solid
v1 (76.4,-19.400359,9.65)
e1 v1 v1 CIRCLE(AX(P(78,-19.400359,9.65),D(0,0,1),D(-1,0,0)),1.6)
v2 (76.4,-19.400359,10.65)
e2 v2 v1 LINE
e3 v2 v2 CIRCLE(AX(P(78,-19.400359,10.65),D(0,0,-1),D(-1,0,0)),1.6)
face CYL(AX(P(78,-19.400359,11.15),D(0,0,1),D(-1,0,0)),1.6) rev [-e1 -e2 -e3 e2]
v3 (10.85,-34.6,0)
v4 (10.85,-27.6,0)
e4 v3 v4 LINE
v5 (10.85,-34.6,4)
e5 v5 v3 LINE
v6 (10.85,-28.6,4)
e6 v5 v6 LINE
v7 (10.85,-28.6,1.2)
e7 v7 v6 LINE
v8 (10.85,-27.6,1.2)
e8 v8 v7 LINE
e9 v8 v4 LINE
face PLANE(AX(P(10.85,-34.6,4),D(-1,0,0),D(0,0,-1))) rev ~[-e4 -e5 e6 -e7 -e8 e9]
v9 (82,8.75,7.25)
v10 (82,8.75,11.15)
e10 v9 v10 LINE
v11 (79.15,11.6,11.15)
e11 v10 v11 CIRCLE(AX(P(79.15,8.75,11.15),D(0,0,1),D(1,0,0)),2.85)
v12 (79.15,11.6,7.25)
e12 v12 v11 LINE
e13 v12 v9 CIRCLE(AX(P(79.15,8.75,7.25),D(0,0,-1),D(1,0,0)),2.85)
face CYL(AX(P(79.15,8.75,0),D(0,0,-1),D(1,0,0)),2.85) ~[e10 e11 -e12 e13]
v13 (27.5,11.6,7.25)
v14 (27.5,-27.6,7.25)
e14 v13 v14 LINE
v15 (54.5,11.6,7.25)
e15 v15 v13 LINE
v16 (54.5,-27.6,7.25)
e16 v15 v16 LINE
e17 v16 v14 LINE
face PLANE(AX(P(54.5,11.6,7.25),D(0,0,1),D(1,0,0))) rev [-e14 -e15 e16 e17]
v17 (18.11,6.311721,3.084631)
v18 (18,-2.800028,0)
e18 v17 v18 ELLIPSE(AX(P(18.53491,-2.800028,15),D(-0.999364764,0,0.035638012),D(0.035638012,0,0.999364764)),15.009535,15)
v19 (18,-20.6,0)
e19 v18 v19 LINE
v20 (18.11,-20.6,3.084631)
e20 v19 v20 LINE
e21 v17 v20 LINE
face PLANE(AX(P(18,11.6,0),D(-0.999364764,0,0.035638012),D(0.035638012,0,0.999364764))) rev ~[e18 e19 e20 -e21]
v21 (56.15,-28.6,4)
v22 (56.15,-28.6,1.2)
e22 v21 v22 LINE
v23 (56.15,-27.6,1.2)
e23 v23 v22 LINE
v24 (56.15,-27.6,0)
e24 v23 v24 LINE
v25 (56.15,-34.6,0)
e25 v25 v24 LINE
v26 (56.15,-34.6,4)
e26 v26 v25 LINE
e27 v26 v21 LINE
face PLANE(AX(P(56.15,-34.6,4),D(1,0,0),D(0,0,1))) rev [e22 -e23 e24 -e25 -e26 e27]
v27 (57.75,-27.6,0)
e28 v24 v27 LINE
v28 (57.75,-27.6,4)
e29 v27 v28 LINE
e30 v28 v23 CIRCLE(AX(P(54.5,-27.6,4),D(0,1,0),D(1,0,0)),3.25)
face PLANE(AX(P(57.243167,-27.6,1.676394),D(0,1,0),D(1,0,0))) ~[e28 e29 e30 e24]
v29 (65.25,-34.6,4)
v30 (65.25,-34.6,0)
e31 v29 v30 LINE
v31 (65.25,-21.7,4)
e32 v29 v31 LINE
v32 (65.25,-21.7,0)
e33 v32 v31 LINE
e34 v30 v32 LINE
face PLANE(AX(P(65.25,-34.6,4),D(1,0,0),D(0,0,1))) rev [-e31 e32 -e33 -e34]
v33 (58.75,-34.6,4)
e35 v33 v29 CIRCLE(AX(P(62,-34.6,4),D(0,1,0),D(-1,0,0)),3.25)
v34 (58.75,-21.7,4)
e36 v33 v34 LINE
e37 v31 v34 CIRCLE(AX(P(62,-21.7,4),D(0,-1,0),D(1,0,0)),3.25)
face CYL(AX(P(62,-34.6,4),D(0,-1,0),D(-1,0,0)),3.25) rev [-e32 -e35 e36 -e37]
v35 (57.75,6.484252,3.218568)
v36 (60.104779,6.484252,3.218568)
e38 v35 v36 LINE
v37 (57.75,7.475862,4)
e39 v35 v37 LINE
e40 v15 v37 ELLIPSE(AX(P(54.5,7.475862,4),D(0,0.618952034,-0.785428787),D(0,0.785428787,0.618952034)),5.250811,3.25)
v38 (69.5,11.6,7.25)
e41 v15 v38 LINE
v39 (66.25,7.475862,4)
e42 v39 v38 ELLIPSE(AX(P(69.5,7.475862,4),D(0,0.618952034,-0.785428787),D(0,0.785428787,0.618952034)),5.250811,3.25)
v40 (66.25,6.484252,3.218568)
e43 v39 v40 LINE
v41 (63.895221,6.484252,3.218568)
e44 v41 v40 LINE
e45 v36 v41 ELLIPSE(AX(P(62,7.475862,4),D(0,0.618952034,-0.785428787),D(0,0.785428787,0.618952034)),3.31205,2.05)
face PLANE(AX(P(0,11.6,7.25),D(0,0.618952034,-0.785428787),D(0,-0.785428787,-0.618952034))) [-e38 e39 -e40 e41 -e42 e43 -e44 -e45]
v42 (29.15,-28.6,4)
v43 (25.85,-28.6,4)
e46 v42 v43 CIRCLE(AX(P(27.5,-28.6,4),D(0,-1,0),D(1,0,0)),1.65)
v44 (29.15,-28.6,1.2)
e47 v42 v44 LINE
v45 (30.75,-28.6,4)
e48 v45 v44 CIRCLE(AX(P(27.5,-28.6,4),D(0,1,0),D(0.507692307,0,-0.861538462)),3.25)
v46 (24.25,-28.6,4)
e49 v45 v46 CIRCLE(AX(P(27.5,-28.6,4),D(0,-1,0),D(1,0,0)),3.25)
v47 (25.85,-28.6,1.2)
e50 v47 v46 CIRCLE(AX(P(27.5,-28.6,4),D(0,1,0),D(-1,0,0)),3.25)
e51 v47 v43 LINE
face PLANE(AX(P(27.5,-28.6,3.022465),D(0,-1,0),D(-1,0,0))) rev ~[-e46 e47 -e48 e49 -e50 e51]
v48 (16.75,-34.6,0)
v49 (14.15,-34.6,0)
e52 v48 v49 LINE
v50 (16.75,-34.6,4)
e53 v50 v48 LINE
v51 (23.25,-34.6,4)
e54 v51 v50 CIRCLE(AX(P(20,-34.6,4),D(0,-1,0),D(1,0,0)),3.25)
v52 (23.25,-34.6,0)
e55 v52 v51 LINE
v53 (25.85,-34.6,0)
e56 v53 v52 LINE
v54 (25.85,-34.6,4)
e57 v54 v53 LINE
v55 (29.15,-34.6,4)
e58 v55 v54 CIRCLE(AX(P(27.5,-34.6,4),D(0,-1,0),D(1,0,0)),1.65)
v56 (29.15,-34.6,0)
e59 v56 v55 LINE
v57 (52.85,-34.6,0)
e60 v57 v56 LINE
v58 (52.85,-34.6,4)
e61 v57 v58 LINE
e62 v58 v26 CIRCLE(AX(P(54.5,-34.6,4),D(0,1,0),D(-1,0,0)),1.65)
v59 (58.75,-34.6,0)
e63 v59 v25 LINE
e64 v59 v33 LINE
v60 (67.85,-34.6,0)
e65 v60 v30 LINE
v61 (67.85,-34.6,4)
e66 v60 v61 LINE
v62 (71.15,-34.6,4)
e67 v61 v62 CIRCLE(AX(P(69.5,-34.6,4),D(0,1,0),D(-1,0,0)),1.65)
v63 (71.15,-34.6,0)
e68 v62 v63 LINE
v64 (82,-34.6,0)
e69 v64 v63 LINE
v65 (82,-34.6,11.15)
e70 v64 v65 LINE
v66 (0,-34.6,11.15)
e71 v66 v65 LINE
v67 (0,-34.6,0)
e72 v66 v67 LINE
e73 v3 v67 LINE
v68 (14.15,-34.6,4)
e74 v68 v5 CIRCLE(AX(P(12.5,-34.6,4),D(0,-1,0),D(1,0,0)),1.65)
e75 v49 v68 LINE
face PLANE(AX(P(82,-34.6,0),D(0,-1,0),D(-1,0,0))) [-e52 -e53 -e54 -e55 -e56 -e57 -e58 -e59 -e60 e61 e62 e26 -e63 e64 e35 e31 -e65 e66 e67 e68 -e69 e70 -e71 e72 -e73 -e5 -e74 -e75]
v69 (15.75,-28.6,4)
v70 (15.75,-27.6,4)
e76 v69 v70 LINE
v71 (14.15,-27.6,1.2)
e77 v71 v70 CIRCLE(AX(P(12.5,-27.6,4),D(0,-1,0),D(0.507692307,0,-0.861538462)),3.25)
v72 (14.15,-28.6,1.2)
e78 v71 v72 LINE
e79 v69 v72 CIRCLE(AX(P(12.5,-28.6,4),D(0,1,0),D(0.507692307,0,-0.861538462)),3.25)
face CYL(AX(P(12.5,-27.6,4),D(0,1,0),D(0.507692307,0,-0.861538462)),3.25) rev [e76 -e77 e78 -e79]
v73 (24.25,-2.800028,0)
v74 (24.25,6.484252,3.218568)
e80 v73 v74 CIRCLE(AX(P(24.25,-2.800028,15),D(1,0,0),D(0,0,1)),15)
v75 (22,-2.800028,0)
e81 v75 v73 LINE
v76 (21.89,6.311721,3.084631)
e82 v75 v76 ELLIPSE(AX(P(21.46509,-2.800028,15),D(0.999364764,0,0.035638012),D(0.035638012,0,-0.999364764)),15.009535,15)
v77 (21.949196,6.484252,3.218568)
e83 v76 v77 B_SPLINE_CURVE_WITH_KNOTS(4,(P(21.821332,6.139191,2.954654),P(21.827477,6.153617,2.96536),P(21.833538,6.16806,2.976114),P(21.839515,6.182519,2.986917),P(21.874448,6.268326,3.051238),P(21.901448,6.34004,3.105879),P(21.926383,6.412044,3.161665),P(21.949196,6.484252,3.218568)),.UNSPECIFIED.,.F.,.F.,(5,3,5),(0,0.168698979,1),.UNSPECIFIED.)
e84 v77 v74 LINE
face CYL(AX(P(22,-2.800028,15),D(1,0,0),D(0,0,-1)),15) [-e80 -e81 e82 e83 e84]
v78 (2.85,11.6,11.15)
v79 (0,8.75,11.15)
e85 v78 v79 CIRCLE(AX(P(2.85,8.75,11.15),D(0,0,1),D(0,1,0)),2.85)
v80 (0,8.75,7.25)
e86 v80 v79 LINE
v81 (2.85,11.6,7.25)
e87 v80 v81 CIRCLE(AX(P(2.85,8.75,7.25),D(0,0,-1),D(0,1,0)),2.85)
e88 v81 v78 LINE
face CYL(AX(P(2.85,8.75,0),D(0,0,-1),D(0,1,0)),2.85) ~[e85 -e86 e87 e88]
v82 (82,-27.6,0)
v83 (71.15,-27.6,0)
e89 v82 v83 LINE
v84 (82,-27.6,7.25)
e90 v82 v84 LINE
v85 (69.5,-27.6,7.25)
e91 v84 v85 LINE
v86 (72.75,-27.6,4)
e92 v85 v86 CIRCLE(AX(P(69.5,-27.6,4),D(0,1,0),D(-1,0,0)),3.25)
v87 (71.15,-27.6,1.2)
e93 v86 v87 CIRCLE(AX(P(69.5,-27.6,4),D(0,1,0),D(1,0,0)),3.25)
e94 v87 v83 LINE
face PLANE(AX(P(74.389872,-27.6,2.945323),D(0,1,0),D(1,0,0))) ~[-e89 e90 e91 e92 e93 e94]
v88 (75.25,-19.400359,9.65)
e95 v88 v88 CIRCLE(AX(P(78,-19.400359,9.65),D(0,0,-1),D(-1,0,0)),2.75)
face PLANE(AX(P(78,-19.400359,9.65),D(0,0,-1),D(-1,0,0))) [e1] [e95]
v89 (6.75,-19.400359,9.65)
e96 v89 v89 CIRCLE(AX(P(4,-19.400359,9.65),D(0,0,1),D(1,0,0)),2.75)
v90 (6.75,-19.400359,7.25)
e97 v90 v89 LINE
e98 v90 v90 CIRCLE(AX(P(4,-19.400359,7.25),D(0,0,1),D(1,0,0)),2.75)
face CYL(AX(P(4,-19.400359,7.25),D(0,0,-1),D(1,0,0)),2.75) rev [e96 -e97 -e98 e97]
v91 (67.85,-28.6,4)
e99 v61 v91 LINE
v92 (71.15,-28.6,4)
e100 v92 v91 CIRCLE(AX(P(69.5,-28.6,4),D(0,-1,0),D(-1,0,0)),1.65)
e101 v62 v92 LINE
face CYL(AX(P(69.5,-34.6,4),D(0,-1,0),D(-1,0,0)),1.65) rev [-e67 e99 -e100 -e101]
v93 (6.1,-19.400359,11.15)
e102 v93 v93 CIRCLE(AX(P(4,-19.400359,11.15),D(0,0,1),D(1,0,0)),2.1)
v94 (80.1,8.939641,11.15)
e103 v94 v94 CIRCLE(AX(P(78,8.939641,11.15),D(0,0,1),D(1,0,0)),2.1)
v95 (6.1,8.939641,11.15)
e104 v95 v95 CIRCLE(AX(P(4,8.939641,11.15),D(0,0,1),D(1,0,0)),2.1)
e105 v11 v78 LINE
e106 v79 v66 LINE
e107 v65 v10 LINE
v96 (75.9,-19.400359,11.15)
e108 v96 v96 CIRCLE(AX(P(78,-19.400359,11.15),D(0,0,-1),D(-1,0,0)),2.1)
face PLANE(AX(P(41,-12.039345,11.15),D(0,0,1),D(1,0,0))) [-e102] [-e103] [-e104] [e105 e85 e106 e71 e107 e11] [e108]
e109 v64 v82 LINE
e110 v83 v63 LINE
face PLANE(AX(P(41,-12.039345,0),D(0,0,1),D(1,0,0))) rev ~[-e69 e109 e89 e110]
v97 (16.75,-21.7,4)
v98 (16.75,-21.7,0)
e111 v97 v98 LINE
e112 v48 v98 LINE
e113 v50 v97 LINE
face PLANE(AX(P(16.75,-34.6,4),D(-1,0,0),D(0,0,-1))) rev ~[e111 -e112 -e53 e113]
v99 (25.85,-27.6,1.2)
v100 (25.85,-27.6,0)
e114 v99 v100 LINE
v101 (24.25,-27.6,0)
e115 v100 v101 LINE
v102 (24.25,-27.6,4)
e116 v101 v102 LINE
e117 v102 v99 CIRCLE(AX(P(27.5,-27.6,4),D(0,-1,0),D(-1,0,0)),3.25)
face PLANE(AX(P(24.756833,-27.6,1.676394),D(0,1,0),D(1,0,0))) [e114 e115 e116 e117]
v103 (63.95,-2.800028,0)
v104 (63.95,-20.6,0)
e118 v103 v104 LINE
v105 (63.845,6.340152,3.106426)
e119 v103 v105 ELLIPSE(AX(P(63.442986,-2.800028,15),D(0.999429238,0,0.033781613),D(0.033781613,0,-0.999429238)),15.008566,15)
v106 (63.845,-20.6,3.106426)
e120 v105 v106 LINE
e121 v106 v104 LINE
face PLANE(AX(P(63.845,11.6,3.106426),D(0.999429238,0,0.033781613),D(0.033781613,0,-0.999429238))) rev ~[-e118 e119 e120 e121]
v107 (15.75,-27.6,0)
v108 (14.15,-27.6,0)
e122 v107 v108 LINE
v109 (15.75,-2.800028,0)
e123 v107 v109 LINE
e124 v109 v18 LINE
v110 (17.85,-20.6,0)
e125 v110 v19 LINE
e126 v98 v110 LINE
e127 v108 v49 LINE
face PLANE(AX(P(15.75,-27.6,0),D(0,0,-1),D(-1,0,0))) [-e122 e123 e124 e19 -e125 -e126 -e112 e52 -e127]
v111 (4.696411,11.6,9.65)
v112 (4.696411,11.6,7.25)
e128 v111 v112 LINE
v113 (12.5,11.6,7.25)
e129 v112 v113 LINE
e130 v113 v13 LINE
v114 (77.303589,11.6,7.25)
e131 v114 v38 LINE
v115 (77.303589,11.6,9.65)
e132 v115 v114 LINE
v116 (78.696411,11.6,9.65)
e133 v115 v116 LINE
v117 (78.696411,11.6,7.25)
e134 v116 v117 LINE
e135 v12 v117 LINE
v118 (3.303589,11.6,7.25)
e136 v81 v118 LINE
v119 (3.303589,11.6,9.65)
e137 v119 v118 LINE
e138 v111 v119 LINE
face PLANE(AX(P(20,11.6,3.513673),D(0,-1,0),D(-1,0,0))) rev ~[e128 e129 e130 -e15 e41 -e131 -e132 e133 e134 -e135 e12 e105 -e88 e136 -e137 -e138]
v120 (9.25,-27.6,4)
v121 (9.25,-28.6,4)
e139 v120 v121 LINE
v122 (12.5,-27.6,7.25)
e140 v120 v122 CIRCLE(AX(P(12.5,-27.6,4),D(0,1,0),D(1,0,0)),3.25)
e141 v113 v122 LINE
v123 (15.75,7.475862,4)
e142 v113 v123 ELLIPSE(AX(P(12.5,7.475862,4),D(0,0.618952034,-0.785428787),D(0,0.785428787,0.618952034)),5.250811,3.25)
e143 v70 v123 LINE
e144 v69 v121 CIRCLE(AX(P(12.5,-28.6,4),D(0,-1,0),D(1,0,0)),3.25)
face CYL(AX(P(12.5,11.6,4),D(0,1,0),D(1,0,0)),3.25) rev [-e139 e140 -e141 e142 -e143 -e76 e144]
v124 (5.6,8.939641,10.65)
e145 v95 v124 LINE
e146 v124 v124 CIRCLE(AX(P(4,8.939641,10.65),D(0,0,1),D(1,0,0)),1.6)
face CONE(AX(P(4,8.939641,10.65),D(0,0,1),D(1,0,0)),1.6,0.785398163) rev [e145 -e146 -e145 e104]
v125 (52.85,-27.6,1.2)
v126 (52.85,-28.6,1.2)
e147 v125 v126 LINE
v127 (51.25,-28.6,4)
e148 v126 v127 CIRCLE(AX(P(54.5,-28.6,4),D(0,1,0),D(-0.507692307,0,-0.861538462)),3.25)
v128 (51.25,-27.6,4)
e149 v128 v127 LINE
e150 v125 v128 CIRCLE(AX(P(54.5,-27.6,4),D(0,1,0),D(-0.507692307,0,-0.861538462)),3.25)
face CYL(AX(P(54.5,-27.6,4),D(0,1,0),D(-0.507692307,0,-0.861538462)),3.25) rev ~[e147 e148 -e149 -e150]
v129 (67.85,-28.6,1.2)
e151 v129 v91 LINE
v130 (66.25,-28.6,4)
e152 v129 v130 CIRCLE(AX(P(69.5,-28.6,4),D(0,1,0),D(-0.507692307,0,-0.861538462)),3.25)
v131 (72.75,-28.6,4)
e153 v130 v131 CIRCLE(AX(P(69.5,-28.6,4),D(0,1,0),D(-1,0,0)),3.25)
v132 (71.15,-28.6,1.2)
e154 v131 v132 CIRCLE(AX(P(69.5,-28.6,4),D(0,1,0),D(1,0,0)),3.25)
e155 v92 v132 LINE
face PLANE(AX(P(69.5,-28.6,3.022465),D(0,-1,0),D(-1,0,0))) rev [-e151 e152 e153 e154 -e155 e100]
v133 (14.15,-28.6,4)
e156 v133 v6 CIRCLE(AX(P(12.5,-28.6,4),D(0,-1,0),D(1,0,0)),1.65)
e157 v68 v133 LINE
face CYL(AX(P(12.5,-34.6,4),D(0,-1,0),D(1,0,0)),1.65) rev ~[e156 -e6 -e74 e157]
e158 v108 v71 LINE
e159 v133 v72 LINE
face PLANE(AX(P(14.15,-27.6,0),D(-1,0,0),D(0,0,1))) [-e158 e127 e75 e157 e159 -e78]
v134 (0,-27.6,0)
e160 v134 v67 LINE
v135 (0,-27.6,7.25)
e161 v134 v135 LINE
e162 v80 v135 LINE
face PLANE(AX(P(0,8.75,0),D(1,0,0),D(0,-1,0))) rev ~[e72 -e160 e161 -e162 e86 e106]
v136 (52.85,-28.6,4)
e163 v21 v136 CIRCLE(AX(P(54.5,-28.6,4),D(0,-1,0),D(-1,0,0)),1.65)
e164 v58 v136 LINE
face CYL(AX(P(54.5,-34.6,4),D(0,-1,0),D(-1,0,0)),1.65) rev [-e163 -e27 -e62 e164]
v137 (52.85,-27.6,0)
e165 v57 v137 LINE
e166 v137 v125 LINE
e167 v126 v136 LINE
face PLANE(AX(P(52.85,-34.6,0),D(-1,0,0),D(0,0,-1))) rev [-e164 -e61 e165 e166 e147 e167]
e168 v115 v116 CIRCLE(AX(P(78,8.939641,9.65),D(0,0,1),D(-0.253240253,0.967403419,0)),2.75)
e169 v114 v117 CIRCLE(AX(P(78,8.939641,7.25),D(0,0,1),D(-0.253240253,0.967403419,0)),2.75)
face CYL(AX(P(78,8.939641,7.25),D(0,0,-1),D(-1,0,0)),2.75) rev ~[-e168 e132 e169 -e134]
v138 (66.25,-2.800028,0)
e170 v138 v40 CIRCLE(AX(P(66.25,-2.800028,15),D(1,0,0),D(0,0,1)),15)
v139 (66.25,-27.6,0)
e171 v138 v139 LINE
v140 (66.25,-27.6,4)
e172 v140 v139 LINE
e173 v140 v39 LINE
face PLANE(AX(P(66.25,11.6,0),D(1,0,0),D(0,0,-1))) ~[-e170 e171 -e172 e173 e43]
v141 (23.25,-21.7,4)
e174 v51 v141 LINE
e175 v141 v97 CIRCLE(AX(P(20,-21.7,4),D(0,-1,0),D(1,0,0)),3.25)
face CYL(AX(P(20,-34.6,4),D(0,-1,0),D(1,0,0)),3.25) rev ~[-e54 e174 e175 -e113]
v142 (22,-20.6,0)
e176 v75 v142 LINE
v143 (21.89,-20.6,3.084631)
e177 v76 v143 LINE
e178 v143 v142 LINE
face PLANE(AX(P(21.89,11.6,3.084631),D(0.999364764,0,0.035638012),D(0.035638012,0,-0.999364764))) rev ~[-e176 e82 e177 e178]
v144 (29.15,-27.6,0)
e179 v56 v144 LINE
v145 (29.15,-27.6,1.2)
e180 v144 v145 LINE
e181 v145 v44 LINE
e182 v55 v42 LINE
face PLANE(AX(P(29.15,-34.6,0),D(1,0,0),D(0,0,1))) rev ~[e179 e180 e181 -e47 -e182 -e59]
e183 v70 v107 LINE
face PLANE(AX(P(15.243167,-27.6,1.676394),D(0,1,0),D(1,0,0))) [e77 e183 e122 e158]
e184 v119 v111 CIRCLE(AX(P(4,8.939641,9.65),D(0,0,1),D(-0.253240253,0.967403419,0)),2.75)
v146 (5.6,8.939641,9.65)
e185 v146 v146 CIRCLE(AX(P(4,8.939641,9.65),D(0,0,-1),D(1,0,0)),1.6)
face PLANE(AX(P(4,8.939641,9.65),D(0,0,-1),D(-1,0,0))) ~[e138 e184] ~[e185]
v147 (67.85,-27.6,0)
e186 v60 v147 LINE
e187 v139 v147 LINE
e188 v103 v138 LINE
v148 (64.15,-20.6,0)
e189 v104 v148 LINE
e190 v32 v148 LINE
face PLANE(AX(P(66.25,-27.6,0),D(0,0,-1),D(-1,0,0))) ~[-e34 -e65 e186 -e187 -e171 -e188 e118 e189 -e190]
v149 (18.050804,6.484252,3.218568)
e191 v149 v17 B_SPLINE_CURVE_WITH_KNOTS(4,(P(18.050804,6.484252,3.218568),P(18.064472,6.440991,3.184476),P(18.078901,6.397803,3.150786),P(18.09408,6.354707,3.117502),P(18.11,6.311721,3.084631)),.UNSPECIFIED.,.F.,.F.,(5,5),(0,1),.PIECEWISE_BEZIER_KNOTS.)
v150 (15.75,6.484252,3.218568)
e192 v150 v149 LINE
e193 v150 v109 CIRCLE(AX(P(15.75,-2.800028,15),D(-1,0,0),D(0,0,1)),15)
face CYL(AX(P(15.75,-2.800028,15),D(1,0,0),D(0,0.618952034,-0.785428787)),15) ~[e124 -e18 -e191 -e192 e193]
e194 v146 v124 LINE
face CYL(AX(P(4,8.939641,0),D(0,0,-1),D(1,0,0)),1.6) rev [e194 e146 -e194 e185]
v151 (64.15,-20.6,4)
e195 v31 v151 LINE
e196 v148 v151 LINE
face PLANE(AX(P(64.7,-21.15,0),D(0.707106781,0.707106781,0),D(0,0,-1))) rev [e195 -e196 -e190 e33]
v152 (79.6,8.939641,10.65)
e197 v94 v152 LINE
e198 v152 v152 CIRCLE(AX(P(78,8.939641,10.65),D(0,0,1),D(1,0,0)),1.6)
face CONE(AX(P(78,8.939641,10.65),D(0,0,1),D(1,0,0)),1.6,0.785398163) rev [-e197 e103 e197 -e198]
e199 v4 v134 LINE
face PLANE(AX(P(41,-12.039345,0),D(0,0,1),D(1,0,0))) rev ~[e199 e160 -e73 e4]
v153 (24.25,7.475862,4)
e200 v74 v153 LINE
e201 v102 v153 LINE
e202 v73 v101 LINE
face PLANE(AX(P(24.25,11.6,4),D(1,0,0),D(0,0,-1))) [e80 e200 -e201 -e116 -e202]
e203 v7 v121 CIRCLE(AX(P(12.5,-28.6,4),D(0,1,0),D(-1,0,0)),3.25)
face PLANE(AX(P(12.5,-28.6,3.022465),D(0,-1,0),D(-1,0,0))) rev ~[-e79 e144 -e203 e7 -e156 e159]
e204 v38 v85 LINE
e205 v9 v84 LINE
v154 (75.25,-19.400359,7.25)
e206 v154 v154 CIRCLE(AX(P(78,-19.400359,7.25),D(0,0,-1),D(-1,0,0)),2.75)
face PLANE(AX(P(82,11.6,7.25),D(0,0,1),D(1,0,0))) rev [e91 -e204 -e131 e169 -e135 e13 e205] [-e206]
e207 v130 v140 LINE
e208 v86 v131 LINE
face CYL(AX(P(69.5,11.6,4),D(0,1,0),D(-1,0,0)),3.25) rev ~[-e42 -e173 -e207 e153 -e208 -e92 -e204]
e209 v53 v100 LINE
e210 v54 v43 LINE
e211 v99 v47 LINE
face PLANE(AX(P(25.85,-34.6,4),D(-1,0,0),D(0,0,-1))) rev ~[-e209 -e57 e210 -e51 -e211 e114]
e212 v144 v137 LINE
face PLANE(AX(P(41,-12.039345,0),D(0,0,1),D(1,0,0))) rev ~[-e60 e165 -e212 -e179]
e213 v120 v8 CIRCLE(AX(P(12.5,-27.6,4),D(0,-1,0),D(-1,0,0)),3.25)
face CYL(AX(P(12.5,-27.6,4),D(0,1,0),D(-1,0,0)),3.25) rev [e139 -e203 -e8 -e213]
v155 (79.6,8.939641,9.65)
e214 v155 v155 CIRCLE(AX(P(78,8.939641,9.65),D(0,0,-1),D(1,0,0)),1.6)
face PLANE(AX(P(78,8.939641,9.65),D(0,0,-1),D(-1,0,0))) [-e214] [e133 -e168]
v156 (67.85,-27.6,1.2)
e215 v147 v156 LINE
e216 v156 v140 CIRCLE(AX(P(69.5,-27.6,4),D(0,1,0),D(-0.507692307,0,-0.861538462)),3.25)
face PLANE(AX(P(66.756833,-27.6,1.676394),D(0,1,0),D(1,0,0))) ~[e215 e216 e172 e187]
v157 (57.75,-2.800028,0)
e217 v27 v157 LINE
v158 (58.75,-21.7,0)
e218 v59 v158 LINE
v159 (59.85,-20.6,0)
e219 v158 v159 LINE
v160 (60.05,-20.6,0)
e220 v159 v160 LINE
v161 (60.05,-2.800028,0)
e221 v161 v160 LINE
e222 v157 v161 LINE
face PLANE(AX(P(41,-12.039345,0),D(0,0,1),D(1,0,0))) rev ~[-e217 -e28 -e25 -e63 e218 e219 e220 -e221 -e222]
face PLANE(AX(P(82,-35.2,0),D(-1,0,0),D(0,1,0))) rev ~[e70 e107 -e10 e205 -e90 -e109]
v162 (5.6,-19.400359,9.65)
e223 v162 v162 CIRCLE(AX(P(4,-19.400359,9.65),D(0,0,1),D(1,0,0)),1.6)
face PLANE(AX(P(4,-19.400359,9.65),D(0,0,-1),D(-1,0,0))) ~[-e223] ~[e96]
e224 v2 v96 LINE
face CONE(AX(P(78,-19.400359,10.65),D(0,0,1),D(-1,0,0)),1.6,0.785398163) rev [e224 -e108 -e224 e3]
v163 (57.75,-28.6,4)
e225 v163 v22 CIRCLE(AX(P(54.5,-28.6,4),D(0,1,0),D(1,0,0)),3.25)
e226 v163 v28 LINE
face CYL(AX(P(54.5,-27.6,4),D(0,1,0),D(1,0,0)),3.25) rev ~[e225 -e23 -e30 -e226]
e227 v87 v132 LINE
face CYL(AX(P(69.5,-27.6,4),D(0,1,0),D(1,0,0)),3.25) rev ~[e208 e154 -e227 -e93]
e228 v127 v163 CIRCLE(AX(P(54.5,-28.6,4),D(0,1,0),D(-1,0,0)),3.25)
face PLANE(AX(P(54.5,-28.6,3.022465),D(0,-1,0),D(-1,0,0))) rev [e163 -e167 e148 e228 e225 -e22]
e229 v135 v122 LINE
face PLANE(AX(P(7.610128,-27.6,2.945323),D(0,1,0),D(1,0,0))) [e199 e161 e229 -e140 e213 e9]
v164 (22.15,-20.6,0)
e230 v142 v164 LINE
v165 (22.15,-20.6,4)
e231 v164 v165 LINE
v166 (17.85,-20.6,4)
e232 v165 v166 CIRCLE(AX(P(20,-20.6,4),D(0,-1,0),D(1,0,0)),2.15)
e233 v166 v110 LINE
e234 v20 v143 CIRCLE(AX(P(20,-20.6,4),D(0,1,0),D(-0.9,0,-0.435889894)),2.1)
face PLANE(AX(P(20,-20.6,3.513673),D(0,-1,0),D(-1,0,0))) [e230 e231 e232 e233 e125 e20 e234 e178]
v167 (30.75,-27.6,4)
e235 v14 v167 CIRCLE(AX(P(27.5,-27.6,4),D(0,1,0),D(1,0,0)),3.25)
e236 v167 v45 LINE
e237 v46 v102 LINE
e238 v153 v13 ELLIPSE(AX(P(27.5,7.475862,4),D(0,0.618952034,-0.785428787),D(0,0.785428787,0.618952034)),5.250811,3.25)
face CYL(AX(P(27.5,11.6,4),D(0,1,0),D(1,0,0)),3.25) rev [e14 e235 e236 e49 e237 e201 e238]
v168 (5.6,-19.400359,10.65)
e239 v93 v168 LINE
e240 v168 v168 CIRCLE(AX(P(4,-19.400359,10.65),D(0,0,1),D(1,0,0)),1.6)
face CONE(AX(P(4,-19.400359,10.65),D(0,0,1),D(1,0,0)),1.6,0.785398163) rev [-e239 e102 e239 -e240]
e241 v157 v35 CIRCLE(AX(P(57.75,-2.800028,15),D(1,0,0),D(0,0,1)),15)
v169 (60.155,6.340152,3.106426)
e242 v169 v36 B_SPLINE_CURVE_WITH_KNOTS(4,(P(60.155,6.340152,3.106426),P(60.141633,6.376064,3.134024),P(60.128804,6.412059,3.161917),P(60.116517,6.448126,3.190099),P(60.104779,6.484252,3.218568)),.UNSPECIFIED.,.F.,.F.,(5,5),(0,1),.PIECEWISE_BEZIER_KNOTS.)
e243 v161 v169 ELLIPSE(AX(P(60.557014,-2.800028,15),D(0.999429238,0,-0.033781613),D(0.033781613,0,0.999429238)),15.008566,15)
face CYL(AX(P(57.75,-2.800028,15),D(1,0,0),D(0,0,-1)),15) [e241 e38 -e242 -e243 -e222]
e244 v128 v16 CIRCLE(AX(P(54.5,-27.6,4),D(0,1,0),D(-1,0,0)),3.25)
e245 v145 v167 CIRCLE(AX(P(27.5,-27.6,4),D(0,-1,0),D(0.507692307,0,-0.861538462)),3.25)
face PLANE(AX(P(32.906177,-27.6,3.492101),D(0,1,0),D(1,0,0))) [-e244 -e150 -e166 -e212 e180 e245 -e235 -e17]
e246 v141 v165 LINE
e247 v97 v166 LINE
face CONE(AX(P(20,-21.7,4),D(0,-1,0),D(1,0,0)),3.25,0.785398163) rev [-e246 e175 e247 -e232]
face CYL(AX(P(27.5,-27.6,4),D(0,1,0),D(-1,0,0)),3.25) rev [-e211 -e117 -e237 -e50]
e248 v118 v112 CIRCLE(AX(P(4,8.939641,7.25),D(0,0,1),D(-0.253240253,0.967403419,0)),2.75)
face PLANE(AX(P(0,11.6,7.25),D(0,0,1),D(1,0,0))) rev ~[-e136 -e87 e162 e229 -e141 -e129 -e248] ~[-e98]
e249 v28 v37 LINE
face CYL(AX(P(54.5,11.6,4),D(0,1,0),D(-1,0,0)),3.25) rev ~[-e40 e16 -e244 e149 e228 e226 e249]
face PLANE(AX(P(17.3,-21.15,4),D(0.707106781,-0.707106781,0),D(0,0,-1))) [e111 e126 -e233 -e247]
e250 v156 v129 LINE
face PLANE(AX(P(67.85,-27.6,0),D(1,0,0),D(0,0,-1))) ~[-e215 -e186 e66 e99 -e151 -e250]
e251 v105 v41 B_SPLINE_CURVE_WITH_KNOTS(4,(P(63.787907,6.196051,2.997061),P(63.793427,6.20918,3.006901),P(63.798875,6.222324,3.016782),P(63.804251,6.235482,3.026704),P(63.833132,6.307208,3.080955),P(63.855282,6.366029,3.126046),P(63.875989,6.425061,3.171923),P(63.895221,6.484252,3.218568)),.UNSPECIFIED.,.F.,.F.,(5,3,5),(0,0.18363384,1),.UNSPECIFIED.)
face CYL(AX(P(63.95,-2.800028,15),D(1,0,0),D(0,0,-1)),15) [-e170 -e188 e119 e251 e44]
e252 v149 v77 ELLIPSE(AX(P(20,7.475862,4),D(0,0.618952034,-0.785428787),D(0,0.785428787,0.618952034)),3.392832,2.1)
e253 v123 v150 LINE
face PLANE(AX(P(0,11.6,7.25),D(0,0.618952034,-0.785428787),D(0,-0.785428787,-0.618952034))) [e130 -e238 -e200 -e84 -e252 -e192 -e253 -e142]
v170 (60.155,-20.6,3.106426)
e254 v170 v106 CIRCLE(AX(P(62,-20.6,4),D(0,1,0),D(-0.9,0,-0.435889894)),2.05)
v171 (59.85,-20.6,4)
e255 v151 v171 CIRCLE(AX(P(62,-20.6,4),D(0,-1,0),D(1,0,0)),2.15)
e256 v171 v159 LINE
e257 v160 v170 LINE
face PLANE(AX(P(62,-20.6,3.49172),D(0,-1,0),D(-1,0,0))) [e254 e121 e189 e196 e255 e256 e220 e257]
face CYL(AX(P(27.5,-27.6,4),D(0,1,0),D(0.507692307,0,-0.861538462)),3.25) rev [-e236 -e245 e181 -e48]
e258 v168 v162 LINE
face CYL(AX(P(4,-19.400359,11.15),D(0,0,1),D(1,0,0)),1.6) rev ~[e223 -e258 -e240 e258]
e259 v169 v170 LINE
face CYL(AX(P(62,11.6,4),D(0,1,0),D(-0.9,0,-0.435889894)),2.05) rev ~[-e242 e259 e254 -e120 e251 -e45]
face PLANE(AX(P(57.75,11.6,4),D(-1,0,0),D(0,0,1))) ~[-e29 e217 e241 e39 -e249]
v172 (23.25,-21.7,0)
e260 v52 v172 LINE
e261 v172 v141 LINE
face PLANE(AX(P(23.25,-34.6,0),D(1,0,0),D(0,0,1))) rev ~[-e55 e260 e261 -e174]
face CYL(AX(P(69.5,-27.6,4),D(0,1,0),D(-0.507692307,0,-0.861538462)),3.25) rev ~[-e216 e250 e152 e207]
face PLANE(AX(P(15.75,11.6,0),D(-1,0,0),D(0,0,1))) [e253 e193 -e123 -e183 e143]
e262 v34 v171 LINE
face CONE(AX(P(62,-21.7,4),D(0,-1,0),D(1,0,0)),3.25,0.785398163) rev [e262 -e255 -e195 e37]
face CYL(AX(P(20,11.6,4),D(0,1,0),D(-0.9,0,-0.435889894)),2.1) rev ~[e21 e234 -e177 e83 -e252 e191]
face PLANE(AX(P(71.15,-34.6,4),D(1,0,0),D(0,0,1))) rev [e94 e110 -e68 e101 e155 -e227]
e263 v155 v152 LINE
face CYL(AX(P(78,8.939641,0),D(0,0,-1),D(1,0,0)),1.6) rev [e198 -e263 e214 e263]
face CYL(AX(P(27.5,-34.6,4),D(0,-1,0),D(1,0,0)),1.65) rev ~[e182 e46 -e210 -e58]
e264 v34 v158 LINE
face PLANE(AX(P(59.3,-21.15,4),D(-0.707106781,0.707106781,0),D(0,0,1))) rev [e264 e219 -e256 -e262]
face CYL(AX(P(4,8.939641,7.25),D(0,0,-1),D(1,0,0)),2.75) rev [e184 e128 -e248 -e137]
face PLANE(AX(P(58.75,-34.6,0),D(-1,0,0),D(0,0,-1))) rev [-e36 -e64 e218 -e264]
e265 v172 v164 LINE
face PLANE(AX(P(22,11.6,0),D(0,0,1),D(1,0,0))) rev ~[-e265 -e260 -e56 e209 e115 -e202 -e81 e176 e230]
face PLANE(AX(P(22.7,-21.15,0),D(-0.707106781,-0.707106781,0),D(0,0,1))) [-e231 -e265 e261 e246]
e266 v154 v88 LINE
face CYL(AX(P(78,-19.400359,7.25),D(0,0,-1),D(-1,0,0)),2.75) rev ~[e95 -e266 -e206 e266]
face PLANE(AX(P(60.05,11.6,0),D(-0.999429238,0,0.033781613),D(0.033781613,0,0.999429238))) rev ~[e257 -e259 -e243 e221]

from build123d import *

# Parameters (mm, degrees)
SKETCH1_R                = 1.6
BOSS_EXTRUDE1_DEPTH      = 11.15
SKETCH2_W                = 82
SKETCH2_H                = 0.6
CUT_EXTRUDE1_DEPTH       = 8
CUT_EXTRUDE2_DEPTH       = 46.2
CUT_EXTRUDE3_DEPTH       = 40.2
CUT_EXTRUDE5_DEPTH       = 39.2
BOSS_EXTRUDE2_DEPTH      = 32.2
CHAMFER3_SIZE            = 1.1
CHAMFER4_SIZE            = 1.1
CUT_EXTRUDE12_DEPTH      = 1
CUT_EXTRUDE12_DEPTH_BACK = 83
FILLET3_R                = 15
SKETCH14_R               = 1.6
CUT_EXTRUDE14_DEPTH      = 12.1500001
BOSS_EXTRUDE3_DEPTH      = 3.5
SKETCH8_W                = 82
SKETCH8_H                = 0.6
CUT_EXTRUDE16_DEPTH      = 4.15
SKETCH20_R               = 2.75
CUT_EXTRUDE17_DEPTH      = 2.4
CHAMFER5_SIZE            = 0.5


with BuildPart() as part:
    # Sketch1 → Boss-Extrude1 (new body)
    with BuildSketch(Plane.XY):
        with BuildLine():
            Line((0, -35.2), (82, -35.2))
            Line((82, -35.2), (82, 8.75))
            ThreePointArc((82, 8.75), (81.165254326, 10.765254326), (79.15, 11.6))
            Line((79.15, 11.6), (2.85, 11.6))
            ThreePointArc((2.85, 11.6), (0.834745674, 10.765254326), (0, 8.75))
            Line((0, 8.75), (0, -35.2))
        make_face()
        with Locations((4, 8.939640599)):
            Circle(SKETCH1_R, mode=Mode.SUBTRACT)
        with Locations((78, 8.939640599)):
            Circle(SKETCH1_R, mode=Mode.SUBTRACT)
    extrude(amount=BOSS_EXTRUDE1_DEPTH)

    # Sketch2 → Cut-Extrude1 (cut)
    with BuildSketch(Plane(origin=(0, 0, 0), x_dir=(-1, 0, 0), z_dir=(0, 0, -1))):
        with Locations((-41, -34.9)):
            Rectangle(SKETCH2_W, SKETCH2_H)
    cut_extrude1 = extrude(amount=-CUT_EXTRUDE1_DEPTH, mode=Mode.SUBTRACT)

    # Sketch3 → Cut-Extrude2 (cut)
    with BuildSketch(Plane.XZ.offset(34.6)):
        with BuildLine():
            Line((25.85, 4), (25.85, 0))
            Line((25.85, 0), (29.15, 0))
            Line((29.15, 0), (29.15, 4))
            ThreePointArc((29.15, 4), (27.5, 5.65), (25.85, 4))
        make_face()
        with BuildLine():
            ThreePointArc((14.15, 4), (12.5, 5.65), (10.85, 4))
            Line((10.85, 4), (10.85, 0))
            Line((10.85, 0), (14.15, 0))
            Line((14.15, 0), (14.15, 4))
        make_face()
        with BuildLine():
            ThreePointArc((23.25, 4), (20, 7.25), (16.75, 4))
            Line((16.75, 4), (16.75, 0))
            Line((16.75, 0), (23.25, 0))
            Line((23.25, 0), (23.25, 4))
        make_face()
    cut_extrude2 = extrude(amount=-CUT_EXTRUDE2_DEPTH, mode=Mode.SUBTRACT)

    # Sketch4 → Cut-Extrude3 (cut)
    with BuildSketch(Plane(origin=(0, 11.6, 0), x_dir=(1, 0, 0), z_dir=(0, 1, 0))):
        with BuildLine():
            Line((9.25, -4), (9.25, 0))
            Line((9.25, 0), (15.75, 0))
            Line((15.75, 0), (15.75, -4))
            ThreePointArc((15.75, -4), (12.5, -7.25), (9.25, -4))
        make_face()
        with BuildLine():
            Line((24.25, -4), (24.25, 0))
            Line((24.25, 0), (30.75, 0))
            Line((30.75, 0), (30.75, -4))
            ThreePointArc((30.75, -4), (27.5, -7.25), (24.25, -4))
        make_face()
    cut_extrude3 = extrude(amount=-CUT_EXTRUDE3_DEPTH, mode=Mode.SUBTRACT)

    # Sketch6 → Cut-Extrude5 (cut)
    with BuildSketch(Plane(origin=(0, 11.6, 0), x_dir=(1, 0, 0), z_dir=(0, 1, 0))):
        with BuildLine():
            Line((15.75, -4), (15.75, 0))
            Line((15.75, 0), (15.75, 1.061213364))
            Line((15.75, 1.061213364), (0, 1.061213364))
            Line((0, 1.061213364), (0, -7.25))
            Line((0, -7.25), (12.5, -7.25))
            ThreePointArc((12.5, -7.25), (14.798097039, -6.298097039), (15.75, -4))
        make_face()
        with BuildLine():
            Line((24.25, 0), (24.25, -4))
            ThreePointArc((24.25, -4), (25.201902961, -6.298097039), (27.5, -7.25))
            Line((27.5, -7.25), (41, -7.25))
            Line((41, -7.25), (41, 0))
            Line((41, 0), (24.25, 0))
        make_face()
    cut_extrude5 = extrude(amount=-CUT_EXTRUDE5_DEPTH, mode=Mode.SUBTRACT)

    # Mirror1: Cut-Extrude1, Cut-Extrude2, Cut-Extrude3, Cut-Extrude5 across plane
    add(cut_extrude1.mirror(Plane.ZY.offset(-41)), mode=Mode.SUBTRACT)
    add(cut_extrude2.mirror(Plane.ZY.offset(-41)), mode=Mode.SUBTRACT)
    add(cut_extrude3.mirror(Plane.ZY.offset(-41)), mode=Mode.SUBTRACT)
    add(cut_extrude5.mirror(Plane.ZY.offset(-41)), mode=Mode.SUBTRACT)

    # Sketch12 → Boss-Extrude2 (add)
    with BuildSketch(Plane(origin=(0, 11.6, 0), x_dir=(1, 0, 0), z_dir=(0, 1, 0))):
        with BuildLine():
            Line((16.75, -4), (16.75, 0))
            Line((16.75, 0), (18, 0))
            Line((18, 0), (18.11, -3.084631222))
            ThreePointArc((18.11, -3.084631222), (20, -6.1), (21.89, -3.084631222))
            Line((21.89, -3.084631222), (22, 0))
            Line((22, 0), (23.25, 0))
            Line((23.25, 0), (23.25, -4))
            ThreePointArc((23.25, -4), (20, -7.25), (16.75, -4))
        make_face()
        with BuildLine():
            Line((58.75, -4), (58.75, 0))
            Line((58.75, 0), (60.05, 0))
            Line((60.05, 0), (60.155, -3.106425717))
            ThreePointArc((60.155, -3.106425717), (62, -6.05), (63.845, -3.106425717))
            Line((63.845, -3.106425717), (63.95, 0))
            Line((63.95, 0), (65.25, 0))
            Line((65.25, 0), (65.25, -4))
            ThreePointArc((65.25, -4), (62, -7.25), (58.75, -4))
        make_face()
    extrude(amount=-BOSS_EXTRUDE2_DEPTH)

    # Chamfer3
    chamfer3_edges = [part.edges().sort_by_distance(p)[0] for p in [
        (65.25, -20.6, 2),
        (58.75, -20.6, 2),
        (62, -20.6, 7.25),
    ]]
    chamfer(chamfer3_edges, length=CHAMFER3_SIZE)

    # Chamfer4
    chamfer4_edges = [part.edges().sort_by_distance(p)[0] for p in [
        (23.25, -20.6, 2),
        (16.75, -20.6, 2),
        (20, -20.6, 7.25),
    ]]
    chamfer(chamfer4_edges, length=CHAMFER4_SIZE)

    # Sketch9 → Cut-Extrude12 (cut, two sides)
    with BuildSketch(Plane.ZY) as cut_extrude12_sk:
        Polygon((-106.219800457, 11.6), (0, 11.6), (7.25, 11.6), (0, 2.4), (-65.744961499, -81.028089075), (-260.411588221, -166.089763625), (-300.886427179, -73.46167455), align=None)
    extrude(amount=CUT_EXTRUDE12_DEPTH, mode=Mode.SUBTRACT)
    extrude(cut_extrude12_sk.sketch, amount=-CUT_EXTRUDE12_DEPTH_BACK, mode=Mode.SUBTRACT)

    # Fillet3
    fillet3_edges = [part.edges().sort_by_distance(p)[0] for p in [
        (16.875, 2.4, 0),
        (23.125, 2.4, 0),
        (58.9, 2.4, 0),
        (65.1, 2.4, 0),
    ]]
    fillet(fillet3_edges, radius=FILLET3_R)

    # Sketch14 → Cut-Extrude14 (cut, through all)
    with BuildSketch(Plane.XY.offset(11.15)):
        with Locations((4, -19.400359401)):
            Circle(SKETCH14_R)
    cut_extrude14 = extrude(amount=-CUT_EXTRUDE14_DEPTH, mode=Mode.SUBTRACT)

    # Mirror3: Cut-Extrude14 across plane
    add(cut_extrude14.mirror(Plane.ZY.offset(-41)), mode=Mode.SUBTRACT)

    # Sketch18 → Boss-Extrude3 (add)
    with BuildSketch(Plane(origin=(0, -27.6, 0), x_dir=(1, 0, 0), z_dir=(0, 1, 0))):
        with BuildLine():
            Line((14.15, 0), (14.15, -1.2))
            ThreePointArc((14.15, -1.2), (15.321790212, -2.38754845), (15.75, -4))
            Line((15.75, -4), (15.75, 0))
            Line((15.75, 0), (14.15, 0))
        make_face()
        with BuildLine():
            Line((10.85, -1.2), (10.85, 0))
            Line((10.85, 0), (9.25, 0))
            Line((9.25, 0), (9.25, -4))
            ThreePointArc((9.25, -4), (9.678209788, -2.38754845), (10.85, -1.2))
        make_face()
        with BuildLine():
            Line((29.15, 0), (29.15, -1.2))
            ThreePointArc((29.15, -1.2), (30.321790212, -2.38754845), (30.75, -4))
            Line((30.75, -4), (30.75, 0))
            Line((30.75, 0), (29.15, 0))
        make_face()
        with BuildLine():
            Line((25.85, -1.2), (25.85, 0))
            Line((25.85, 0), (24.25, 0))
            Line((24.25, 0), (24.25, -4))
            ThreePointArc((24.25, -4), (24.678209788, -2.38754845), (25.85, -1.2))
        make_face()
    boss_extrude3 = extrude(amount=-BOSS_EXTRUDE3_DEPTH)

    # Mirror5: Boss-Extrude3 across plane
    add(boss_extrude3.mirror(Plane.ZY.offset(-41)))

    # Sketch8 → Cut-Extrude16 (cut, through all)
    with BuildSketch(Plane(origin=(0, 0, 8), x_dir=(-1, 0, 0), z_dir=(0, 0, -1))):
        with Locations((-41, -34.9)):
            Rectangle(SKETCH8_W, SKETCH8_H)
    extrude(amount=-CUT_EXTRUDE16_DEPTH, mode=Mode.SUBTRACT)

    # Sketch20 → Cut-Extrude17 (cut)
    with BuildSketch(Plane(origin=(0, 0, 7.25), x_dir=(-1, 0, 0), z_dir=(0, 0, -1))):
        with Locations((-78, 8.939640599)):
            Circle(SKETCH20_R)
        with Locations((-78, -19.400359401)):
            Circle(SKETCH20_R)
    cut_extrude17 = extrude(amount=-CUT_EXTRUDE17_DEPTH, mode=Mode.SUBTRACT)

    # Mirror7: Cut-Extrude17 across plane
    add(cut_extrude17.mirror(Plane.ZY.offset(-41)), mode=Mode.SUBTRACT)

    # Chamfer5
    chamfer5_edges = [part.edges().sort_by_distance(p)[0] for p in [
        (2.4, 8.939640599, 11.15),
        (76.4, 8.939640599, 11.15),
        (2.4, -19.400359401, 11.15),
        (79.6, -19.400359401, 11.15),
    ]]
    chamfer(chamfer5_edges, length=CHAMFER5_SIZE)


solid = part.part
